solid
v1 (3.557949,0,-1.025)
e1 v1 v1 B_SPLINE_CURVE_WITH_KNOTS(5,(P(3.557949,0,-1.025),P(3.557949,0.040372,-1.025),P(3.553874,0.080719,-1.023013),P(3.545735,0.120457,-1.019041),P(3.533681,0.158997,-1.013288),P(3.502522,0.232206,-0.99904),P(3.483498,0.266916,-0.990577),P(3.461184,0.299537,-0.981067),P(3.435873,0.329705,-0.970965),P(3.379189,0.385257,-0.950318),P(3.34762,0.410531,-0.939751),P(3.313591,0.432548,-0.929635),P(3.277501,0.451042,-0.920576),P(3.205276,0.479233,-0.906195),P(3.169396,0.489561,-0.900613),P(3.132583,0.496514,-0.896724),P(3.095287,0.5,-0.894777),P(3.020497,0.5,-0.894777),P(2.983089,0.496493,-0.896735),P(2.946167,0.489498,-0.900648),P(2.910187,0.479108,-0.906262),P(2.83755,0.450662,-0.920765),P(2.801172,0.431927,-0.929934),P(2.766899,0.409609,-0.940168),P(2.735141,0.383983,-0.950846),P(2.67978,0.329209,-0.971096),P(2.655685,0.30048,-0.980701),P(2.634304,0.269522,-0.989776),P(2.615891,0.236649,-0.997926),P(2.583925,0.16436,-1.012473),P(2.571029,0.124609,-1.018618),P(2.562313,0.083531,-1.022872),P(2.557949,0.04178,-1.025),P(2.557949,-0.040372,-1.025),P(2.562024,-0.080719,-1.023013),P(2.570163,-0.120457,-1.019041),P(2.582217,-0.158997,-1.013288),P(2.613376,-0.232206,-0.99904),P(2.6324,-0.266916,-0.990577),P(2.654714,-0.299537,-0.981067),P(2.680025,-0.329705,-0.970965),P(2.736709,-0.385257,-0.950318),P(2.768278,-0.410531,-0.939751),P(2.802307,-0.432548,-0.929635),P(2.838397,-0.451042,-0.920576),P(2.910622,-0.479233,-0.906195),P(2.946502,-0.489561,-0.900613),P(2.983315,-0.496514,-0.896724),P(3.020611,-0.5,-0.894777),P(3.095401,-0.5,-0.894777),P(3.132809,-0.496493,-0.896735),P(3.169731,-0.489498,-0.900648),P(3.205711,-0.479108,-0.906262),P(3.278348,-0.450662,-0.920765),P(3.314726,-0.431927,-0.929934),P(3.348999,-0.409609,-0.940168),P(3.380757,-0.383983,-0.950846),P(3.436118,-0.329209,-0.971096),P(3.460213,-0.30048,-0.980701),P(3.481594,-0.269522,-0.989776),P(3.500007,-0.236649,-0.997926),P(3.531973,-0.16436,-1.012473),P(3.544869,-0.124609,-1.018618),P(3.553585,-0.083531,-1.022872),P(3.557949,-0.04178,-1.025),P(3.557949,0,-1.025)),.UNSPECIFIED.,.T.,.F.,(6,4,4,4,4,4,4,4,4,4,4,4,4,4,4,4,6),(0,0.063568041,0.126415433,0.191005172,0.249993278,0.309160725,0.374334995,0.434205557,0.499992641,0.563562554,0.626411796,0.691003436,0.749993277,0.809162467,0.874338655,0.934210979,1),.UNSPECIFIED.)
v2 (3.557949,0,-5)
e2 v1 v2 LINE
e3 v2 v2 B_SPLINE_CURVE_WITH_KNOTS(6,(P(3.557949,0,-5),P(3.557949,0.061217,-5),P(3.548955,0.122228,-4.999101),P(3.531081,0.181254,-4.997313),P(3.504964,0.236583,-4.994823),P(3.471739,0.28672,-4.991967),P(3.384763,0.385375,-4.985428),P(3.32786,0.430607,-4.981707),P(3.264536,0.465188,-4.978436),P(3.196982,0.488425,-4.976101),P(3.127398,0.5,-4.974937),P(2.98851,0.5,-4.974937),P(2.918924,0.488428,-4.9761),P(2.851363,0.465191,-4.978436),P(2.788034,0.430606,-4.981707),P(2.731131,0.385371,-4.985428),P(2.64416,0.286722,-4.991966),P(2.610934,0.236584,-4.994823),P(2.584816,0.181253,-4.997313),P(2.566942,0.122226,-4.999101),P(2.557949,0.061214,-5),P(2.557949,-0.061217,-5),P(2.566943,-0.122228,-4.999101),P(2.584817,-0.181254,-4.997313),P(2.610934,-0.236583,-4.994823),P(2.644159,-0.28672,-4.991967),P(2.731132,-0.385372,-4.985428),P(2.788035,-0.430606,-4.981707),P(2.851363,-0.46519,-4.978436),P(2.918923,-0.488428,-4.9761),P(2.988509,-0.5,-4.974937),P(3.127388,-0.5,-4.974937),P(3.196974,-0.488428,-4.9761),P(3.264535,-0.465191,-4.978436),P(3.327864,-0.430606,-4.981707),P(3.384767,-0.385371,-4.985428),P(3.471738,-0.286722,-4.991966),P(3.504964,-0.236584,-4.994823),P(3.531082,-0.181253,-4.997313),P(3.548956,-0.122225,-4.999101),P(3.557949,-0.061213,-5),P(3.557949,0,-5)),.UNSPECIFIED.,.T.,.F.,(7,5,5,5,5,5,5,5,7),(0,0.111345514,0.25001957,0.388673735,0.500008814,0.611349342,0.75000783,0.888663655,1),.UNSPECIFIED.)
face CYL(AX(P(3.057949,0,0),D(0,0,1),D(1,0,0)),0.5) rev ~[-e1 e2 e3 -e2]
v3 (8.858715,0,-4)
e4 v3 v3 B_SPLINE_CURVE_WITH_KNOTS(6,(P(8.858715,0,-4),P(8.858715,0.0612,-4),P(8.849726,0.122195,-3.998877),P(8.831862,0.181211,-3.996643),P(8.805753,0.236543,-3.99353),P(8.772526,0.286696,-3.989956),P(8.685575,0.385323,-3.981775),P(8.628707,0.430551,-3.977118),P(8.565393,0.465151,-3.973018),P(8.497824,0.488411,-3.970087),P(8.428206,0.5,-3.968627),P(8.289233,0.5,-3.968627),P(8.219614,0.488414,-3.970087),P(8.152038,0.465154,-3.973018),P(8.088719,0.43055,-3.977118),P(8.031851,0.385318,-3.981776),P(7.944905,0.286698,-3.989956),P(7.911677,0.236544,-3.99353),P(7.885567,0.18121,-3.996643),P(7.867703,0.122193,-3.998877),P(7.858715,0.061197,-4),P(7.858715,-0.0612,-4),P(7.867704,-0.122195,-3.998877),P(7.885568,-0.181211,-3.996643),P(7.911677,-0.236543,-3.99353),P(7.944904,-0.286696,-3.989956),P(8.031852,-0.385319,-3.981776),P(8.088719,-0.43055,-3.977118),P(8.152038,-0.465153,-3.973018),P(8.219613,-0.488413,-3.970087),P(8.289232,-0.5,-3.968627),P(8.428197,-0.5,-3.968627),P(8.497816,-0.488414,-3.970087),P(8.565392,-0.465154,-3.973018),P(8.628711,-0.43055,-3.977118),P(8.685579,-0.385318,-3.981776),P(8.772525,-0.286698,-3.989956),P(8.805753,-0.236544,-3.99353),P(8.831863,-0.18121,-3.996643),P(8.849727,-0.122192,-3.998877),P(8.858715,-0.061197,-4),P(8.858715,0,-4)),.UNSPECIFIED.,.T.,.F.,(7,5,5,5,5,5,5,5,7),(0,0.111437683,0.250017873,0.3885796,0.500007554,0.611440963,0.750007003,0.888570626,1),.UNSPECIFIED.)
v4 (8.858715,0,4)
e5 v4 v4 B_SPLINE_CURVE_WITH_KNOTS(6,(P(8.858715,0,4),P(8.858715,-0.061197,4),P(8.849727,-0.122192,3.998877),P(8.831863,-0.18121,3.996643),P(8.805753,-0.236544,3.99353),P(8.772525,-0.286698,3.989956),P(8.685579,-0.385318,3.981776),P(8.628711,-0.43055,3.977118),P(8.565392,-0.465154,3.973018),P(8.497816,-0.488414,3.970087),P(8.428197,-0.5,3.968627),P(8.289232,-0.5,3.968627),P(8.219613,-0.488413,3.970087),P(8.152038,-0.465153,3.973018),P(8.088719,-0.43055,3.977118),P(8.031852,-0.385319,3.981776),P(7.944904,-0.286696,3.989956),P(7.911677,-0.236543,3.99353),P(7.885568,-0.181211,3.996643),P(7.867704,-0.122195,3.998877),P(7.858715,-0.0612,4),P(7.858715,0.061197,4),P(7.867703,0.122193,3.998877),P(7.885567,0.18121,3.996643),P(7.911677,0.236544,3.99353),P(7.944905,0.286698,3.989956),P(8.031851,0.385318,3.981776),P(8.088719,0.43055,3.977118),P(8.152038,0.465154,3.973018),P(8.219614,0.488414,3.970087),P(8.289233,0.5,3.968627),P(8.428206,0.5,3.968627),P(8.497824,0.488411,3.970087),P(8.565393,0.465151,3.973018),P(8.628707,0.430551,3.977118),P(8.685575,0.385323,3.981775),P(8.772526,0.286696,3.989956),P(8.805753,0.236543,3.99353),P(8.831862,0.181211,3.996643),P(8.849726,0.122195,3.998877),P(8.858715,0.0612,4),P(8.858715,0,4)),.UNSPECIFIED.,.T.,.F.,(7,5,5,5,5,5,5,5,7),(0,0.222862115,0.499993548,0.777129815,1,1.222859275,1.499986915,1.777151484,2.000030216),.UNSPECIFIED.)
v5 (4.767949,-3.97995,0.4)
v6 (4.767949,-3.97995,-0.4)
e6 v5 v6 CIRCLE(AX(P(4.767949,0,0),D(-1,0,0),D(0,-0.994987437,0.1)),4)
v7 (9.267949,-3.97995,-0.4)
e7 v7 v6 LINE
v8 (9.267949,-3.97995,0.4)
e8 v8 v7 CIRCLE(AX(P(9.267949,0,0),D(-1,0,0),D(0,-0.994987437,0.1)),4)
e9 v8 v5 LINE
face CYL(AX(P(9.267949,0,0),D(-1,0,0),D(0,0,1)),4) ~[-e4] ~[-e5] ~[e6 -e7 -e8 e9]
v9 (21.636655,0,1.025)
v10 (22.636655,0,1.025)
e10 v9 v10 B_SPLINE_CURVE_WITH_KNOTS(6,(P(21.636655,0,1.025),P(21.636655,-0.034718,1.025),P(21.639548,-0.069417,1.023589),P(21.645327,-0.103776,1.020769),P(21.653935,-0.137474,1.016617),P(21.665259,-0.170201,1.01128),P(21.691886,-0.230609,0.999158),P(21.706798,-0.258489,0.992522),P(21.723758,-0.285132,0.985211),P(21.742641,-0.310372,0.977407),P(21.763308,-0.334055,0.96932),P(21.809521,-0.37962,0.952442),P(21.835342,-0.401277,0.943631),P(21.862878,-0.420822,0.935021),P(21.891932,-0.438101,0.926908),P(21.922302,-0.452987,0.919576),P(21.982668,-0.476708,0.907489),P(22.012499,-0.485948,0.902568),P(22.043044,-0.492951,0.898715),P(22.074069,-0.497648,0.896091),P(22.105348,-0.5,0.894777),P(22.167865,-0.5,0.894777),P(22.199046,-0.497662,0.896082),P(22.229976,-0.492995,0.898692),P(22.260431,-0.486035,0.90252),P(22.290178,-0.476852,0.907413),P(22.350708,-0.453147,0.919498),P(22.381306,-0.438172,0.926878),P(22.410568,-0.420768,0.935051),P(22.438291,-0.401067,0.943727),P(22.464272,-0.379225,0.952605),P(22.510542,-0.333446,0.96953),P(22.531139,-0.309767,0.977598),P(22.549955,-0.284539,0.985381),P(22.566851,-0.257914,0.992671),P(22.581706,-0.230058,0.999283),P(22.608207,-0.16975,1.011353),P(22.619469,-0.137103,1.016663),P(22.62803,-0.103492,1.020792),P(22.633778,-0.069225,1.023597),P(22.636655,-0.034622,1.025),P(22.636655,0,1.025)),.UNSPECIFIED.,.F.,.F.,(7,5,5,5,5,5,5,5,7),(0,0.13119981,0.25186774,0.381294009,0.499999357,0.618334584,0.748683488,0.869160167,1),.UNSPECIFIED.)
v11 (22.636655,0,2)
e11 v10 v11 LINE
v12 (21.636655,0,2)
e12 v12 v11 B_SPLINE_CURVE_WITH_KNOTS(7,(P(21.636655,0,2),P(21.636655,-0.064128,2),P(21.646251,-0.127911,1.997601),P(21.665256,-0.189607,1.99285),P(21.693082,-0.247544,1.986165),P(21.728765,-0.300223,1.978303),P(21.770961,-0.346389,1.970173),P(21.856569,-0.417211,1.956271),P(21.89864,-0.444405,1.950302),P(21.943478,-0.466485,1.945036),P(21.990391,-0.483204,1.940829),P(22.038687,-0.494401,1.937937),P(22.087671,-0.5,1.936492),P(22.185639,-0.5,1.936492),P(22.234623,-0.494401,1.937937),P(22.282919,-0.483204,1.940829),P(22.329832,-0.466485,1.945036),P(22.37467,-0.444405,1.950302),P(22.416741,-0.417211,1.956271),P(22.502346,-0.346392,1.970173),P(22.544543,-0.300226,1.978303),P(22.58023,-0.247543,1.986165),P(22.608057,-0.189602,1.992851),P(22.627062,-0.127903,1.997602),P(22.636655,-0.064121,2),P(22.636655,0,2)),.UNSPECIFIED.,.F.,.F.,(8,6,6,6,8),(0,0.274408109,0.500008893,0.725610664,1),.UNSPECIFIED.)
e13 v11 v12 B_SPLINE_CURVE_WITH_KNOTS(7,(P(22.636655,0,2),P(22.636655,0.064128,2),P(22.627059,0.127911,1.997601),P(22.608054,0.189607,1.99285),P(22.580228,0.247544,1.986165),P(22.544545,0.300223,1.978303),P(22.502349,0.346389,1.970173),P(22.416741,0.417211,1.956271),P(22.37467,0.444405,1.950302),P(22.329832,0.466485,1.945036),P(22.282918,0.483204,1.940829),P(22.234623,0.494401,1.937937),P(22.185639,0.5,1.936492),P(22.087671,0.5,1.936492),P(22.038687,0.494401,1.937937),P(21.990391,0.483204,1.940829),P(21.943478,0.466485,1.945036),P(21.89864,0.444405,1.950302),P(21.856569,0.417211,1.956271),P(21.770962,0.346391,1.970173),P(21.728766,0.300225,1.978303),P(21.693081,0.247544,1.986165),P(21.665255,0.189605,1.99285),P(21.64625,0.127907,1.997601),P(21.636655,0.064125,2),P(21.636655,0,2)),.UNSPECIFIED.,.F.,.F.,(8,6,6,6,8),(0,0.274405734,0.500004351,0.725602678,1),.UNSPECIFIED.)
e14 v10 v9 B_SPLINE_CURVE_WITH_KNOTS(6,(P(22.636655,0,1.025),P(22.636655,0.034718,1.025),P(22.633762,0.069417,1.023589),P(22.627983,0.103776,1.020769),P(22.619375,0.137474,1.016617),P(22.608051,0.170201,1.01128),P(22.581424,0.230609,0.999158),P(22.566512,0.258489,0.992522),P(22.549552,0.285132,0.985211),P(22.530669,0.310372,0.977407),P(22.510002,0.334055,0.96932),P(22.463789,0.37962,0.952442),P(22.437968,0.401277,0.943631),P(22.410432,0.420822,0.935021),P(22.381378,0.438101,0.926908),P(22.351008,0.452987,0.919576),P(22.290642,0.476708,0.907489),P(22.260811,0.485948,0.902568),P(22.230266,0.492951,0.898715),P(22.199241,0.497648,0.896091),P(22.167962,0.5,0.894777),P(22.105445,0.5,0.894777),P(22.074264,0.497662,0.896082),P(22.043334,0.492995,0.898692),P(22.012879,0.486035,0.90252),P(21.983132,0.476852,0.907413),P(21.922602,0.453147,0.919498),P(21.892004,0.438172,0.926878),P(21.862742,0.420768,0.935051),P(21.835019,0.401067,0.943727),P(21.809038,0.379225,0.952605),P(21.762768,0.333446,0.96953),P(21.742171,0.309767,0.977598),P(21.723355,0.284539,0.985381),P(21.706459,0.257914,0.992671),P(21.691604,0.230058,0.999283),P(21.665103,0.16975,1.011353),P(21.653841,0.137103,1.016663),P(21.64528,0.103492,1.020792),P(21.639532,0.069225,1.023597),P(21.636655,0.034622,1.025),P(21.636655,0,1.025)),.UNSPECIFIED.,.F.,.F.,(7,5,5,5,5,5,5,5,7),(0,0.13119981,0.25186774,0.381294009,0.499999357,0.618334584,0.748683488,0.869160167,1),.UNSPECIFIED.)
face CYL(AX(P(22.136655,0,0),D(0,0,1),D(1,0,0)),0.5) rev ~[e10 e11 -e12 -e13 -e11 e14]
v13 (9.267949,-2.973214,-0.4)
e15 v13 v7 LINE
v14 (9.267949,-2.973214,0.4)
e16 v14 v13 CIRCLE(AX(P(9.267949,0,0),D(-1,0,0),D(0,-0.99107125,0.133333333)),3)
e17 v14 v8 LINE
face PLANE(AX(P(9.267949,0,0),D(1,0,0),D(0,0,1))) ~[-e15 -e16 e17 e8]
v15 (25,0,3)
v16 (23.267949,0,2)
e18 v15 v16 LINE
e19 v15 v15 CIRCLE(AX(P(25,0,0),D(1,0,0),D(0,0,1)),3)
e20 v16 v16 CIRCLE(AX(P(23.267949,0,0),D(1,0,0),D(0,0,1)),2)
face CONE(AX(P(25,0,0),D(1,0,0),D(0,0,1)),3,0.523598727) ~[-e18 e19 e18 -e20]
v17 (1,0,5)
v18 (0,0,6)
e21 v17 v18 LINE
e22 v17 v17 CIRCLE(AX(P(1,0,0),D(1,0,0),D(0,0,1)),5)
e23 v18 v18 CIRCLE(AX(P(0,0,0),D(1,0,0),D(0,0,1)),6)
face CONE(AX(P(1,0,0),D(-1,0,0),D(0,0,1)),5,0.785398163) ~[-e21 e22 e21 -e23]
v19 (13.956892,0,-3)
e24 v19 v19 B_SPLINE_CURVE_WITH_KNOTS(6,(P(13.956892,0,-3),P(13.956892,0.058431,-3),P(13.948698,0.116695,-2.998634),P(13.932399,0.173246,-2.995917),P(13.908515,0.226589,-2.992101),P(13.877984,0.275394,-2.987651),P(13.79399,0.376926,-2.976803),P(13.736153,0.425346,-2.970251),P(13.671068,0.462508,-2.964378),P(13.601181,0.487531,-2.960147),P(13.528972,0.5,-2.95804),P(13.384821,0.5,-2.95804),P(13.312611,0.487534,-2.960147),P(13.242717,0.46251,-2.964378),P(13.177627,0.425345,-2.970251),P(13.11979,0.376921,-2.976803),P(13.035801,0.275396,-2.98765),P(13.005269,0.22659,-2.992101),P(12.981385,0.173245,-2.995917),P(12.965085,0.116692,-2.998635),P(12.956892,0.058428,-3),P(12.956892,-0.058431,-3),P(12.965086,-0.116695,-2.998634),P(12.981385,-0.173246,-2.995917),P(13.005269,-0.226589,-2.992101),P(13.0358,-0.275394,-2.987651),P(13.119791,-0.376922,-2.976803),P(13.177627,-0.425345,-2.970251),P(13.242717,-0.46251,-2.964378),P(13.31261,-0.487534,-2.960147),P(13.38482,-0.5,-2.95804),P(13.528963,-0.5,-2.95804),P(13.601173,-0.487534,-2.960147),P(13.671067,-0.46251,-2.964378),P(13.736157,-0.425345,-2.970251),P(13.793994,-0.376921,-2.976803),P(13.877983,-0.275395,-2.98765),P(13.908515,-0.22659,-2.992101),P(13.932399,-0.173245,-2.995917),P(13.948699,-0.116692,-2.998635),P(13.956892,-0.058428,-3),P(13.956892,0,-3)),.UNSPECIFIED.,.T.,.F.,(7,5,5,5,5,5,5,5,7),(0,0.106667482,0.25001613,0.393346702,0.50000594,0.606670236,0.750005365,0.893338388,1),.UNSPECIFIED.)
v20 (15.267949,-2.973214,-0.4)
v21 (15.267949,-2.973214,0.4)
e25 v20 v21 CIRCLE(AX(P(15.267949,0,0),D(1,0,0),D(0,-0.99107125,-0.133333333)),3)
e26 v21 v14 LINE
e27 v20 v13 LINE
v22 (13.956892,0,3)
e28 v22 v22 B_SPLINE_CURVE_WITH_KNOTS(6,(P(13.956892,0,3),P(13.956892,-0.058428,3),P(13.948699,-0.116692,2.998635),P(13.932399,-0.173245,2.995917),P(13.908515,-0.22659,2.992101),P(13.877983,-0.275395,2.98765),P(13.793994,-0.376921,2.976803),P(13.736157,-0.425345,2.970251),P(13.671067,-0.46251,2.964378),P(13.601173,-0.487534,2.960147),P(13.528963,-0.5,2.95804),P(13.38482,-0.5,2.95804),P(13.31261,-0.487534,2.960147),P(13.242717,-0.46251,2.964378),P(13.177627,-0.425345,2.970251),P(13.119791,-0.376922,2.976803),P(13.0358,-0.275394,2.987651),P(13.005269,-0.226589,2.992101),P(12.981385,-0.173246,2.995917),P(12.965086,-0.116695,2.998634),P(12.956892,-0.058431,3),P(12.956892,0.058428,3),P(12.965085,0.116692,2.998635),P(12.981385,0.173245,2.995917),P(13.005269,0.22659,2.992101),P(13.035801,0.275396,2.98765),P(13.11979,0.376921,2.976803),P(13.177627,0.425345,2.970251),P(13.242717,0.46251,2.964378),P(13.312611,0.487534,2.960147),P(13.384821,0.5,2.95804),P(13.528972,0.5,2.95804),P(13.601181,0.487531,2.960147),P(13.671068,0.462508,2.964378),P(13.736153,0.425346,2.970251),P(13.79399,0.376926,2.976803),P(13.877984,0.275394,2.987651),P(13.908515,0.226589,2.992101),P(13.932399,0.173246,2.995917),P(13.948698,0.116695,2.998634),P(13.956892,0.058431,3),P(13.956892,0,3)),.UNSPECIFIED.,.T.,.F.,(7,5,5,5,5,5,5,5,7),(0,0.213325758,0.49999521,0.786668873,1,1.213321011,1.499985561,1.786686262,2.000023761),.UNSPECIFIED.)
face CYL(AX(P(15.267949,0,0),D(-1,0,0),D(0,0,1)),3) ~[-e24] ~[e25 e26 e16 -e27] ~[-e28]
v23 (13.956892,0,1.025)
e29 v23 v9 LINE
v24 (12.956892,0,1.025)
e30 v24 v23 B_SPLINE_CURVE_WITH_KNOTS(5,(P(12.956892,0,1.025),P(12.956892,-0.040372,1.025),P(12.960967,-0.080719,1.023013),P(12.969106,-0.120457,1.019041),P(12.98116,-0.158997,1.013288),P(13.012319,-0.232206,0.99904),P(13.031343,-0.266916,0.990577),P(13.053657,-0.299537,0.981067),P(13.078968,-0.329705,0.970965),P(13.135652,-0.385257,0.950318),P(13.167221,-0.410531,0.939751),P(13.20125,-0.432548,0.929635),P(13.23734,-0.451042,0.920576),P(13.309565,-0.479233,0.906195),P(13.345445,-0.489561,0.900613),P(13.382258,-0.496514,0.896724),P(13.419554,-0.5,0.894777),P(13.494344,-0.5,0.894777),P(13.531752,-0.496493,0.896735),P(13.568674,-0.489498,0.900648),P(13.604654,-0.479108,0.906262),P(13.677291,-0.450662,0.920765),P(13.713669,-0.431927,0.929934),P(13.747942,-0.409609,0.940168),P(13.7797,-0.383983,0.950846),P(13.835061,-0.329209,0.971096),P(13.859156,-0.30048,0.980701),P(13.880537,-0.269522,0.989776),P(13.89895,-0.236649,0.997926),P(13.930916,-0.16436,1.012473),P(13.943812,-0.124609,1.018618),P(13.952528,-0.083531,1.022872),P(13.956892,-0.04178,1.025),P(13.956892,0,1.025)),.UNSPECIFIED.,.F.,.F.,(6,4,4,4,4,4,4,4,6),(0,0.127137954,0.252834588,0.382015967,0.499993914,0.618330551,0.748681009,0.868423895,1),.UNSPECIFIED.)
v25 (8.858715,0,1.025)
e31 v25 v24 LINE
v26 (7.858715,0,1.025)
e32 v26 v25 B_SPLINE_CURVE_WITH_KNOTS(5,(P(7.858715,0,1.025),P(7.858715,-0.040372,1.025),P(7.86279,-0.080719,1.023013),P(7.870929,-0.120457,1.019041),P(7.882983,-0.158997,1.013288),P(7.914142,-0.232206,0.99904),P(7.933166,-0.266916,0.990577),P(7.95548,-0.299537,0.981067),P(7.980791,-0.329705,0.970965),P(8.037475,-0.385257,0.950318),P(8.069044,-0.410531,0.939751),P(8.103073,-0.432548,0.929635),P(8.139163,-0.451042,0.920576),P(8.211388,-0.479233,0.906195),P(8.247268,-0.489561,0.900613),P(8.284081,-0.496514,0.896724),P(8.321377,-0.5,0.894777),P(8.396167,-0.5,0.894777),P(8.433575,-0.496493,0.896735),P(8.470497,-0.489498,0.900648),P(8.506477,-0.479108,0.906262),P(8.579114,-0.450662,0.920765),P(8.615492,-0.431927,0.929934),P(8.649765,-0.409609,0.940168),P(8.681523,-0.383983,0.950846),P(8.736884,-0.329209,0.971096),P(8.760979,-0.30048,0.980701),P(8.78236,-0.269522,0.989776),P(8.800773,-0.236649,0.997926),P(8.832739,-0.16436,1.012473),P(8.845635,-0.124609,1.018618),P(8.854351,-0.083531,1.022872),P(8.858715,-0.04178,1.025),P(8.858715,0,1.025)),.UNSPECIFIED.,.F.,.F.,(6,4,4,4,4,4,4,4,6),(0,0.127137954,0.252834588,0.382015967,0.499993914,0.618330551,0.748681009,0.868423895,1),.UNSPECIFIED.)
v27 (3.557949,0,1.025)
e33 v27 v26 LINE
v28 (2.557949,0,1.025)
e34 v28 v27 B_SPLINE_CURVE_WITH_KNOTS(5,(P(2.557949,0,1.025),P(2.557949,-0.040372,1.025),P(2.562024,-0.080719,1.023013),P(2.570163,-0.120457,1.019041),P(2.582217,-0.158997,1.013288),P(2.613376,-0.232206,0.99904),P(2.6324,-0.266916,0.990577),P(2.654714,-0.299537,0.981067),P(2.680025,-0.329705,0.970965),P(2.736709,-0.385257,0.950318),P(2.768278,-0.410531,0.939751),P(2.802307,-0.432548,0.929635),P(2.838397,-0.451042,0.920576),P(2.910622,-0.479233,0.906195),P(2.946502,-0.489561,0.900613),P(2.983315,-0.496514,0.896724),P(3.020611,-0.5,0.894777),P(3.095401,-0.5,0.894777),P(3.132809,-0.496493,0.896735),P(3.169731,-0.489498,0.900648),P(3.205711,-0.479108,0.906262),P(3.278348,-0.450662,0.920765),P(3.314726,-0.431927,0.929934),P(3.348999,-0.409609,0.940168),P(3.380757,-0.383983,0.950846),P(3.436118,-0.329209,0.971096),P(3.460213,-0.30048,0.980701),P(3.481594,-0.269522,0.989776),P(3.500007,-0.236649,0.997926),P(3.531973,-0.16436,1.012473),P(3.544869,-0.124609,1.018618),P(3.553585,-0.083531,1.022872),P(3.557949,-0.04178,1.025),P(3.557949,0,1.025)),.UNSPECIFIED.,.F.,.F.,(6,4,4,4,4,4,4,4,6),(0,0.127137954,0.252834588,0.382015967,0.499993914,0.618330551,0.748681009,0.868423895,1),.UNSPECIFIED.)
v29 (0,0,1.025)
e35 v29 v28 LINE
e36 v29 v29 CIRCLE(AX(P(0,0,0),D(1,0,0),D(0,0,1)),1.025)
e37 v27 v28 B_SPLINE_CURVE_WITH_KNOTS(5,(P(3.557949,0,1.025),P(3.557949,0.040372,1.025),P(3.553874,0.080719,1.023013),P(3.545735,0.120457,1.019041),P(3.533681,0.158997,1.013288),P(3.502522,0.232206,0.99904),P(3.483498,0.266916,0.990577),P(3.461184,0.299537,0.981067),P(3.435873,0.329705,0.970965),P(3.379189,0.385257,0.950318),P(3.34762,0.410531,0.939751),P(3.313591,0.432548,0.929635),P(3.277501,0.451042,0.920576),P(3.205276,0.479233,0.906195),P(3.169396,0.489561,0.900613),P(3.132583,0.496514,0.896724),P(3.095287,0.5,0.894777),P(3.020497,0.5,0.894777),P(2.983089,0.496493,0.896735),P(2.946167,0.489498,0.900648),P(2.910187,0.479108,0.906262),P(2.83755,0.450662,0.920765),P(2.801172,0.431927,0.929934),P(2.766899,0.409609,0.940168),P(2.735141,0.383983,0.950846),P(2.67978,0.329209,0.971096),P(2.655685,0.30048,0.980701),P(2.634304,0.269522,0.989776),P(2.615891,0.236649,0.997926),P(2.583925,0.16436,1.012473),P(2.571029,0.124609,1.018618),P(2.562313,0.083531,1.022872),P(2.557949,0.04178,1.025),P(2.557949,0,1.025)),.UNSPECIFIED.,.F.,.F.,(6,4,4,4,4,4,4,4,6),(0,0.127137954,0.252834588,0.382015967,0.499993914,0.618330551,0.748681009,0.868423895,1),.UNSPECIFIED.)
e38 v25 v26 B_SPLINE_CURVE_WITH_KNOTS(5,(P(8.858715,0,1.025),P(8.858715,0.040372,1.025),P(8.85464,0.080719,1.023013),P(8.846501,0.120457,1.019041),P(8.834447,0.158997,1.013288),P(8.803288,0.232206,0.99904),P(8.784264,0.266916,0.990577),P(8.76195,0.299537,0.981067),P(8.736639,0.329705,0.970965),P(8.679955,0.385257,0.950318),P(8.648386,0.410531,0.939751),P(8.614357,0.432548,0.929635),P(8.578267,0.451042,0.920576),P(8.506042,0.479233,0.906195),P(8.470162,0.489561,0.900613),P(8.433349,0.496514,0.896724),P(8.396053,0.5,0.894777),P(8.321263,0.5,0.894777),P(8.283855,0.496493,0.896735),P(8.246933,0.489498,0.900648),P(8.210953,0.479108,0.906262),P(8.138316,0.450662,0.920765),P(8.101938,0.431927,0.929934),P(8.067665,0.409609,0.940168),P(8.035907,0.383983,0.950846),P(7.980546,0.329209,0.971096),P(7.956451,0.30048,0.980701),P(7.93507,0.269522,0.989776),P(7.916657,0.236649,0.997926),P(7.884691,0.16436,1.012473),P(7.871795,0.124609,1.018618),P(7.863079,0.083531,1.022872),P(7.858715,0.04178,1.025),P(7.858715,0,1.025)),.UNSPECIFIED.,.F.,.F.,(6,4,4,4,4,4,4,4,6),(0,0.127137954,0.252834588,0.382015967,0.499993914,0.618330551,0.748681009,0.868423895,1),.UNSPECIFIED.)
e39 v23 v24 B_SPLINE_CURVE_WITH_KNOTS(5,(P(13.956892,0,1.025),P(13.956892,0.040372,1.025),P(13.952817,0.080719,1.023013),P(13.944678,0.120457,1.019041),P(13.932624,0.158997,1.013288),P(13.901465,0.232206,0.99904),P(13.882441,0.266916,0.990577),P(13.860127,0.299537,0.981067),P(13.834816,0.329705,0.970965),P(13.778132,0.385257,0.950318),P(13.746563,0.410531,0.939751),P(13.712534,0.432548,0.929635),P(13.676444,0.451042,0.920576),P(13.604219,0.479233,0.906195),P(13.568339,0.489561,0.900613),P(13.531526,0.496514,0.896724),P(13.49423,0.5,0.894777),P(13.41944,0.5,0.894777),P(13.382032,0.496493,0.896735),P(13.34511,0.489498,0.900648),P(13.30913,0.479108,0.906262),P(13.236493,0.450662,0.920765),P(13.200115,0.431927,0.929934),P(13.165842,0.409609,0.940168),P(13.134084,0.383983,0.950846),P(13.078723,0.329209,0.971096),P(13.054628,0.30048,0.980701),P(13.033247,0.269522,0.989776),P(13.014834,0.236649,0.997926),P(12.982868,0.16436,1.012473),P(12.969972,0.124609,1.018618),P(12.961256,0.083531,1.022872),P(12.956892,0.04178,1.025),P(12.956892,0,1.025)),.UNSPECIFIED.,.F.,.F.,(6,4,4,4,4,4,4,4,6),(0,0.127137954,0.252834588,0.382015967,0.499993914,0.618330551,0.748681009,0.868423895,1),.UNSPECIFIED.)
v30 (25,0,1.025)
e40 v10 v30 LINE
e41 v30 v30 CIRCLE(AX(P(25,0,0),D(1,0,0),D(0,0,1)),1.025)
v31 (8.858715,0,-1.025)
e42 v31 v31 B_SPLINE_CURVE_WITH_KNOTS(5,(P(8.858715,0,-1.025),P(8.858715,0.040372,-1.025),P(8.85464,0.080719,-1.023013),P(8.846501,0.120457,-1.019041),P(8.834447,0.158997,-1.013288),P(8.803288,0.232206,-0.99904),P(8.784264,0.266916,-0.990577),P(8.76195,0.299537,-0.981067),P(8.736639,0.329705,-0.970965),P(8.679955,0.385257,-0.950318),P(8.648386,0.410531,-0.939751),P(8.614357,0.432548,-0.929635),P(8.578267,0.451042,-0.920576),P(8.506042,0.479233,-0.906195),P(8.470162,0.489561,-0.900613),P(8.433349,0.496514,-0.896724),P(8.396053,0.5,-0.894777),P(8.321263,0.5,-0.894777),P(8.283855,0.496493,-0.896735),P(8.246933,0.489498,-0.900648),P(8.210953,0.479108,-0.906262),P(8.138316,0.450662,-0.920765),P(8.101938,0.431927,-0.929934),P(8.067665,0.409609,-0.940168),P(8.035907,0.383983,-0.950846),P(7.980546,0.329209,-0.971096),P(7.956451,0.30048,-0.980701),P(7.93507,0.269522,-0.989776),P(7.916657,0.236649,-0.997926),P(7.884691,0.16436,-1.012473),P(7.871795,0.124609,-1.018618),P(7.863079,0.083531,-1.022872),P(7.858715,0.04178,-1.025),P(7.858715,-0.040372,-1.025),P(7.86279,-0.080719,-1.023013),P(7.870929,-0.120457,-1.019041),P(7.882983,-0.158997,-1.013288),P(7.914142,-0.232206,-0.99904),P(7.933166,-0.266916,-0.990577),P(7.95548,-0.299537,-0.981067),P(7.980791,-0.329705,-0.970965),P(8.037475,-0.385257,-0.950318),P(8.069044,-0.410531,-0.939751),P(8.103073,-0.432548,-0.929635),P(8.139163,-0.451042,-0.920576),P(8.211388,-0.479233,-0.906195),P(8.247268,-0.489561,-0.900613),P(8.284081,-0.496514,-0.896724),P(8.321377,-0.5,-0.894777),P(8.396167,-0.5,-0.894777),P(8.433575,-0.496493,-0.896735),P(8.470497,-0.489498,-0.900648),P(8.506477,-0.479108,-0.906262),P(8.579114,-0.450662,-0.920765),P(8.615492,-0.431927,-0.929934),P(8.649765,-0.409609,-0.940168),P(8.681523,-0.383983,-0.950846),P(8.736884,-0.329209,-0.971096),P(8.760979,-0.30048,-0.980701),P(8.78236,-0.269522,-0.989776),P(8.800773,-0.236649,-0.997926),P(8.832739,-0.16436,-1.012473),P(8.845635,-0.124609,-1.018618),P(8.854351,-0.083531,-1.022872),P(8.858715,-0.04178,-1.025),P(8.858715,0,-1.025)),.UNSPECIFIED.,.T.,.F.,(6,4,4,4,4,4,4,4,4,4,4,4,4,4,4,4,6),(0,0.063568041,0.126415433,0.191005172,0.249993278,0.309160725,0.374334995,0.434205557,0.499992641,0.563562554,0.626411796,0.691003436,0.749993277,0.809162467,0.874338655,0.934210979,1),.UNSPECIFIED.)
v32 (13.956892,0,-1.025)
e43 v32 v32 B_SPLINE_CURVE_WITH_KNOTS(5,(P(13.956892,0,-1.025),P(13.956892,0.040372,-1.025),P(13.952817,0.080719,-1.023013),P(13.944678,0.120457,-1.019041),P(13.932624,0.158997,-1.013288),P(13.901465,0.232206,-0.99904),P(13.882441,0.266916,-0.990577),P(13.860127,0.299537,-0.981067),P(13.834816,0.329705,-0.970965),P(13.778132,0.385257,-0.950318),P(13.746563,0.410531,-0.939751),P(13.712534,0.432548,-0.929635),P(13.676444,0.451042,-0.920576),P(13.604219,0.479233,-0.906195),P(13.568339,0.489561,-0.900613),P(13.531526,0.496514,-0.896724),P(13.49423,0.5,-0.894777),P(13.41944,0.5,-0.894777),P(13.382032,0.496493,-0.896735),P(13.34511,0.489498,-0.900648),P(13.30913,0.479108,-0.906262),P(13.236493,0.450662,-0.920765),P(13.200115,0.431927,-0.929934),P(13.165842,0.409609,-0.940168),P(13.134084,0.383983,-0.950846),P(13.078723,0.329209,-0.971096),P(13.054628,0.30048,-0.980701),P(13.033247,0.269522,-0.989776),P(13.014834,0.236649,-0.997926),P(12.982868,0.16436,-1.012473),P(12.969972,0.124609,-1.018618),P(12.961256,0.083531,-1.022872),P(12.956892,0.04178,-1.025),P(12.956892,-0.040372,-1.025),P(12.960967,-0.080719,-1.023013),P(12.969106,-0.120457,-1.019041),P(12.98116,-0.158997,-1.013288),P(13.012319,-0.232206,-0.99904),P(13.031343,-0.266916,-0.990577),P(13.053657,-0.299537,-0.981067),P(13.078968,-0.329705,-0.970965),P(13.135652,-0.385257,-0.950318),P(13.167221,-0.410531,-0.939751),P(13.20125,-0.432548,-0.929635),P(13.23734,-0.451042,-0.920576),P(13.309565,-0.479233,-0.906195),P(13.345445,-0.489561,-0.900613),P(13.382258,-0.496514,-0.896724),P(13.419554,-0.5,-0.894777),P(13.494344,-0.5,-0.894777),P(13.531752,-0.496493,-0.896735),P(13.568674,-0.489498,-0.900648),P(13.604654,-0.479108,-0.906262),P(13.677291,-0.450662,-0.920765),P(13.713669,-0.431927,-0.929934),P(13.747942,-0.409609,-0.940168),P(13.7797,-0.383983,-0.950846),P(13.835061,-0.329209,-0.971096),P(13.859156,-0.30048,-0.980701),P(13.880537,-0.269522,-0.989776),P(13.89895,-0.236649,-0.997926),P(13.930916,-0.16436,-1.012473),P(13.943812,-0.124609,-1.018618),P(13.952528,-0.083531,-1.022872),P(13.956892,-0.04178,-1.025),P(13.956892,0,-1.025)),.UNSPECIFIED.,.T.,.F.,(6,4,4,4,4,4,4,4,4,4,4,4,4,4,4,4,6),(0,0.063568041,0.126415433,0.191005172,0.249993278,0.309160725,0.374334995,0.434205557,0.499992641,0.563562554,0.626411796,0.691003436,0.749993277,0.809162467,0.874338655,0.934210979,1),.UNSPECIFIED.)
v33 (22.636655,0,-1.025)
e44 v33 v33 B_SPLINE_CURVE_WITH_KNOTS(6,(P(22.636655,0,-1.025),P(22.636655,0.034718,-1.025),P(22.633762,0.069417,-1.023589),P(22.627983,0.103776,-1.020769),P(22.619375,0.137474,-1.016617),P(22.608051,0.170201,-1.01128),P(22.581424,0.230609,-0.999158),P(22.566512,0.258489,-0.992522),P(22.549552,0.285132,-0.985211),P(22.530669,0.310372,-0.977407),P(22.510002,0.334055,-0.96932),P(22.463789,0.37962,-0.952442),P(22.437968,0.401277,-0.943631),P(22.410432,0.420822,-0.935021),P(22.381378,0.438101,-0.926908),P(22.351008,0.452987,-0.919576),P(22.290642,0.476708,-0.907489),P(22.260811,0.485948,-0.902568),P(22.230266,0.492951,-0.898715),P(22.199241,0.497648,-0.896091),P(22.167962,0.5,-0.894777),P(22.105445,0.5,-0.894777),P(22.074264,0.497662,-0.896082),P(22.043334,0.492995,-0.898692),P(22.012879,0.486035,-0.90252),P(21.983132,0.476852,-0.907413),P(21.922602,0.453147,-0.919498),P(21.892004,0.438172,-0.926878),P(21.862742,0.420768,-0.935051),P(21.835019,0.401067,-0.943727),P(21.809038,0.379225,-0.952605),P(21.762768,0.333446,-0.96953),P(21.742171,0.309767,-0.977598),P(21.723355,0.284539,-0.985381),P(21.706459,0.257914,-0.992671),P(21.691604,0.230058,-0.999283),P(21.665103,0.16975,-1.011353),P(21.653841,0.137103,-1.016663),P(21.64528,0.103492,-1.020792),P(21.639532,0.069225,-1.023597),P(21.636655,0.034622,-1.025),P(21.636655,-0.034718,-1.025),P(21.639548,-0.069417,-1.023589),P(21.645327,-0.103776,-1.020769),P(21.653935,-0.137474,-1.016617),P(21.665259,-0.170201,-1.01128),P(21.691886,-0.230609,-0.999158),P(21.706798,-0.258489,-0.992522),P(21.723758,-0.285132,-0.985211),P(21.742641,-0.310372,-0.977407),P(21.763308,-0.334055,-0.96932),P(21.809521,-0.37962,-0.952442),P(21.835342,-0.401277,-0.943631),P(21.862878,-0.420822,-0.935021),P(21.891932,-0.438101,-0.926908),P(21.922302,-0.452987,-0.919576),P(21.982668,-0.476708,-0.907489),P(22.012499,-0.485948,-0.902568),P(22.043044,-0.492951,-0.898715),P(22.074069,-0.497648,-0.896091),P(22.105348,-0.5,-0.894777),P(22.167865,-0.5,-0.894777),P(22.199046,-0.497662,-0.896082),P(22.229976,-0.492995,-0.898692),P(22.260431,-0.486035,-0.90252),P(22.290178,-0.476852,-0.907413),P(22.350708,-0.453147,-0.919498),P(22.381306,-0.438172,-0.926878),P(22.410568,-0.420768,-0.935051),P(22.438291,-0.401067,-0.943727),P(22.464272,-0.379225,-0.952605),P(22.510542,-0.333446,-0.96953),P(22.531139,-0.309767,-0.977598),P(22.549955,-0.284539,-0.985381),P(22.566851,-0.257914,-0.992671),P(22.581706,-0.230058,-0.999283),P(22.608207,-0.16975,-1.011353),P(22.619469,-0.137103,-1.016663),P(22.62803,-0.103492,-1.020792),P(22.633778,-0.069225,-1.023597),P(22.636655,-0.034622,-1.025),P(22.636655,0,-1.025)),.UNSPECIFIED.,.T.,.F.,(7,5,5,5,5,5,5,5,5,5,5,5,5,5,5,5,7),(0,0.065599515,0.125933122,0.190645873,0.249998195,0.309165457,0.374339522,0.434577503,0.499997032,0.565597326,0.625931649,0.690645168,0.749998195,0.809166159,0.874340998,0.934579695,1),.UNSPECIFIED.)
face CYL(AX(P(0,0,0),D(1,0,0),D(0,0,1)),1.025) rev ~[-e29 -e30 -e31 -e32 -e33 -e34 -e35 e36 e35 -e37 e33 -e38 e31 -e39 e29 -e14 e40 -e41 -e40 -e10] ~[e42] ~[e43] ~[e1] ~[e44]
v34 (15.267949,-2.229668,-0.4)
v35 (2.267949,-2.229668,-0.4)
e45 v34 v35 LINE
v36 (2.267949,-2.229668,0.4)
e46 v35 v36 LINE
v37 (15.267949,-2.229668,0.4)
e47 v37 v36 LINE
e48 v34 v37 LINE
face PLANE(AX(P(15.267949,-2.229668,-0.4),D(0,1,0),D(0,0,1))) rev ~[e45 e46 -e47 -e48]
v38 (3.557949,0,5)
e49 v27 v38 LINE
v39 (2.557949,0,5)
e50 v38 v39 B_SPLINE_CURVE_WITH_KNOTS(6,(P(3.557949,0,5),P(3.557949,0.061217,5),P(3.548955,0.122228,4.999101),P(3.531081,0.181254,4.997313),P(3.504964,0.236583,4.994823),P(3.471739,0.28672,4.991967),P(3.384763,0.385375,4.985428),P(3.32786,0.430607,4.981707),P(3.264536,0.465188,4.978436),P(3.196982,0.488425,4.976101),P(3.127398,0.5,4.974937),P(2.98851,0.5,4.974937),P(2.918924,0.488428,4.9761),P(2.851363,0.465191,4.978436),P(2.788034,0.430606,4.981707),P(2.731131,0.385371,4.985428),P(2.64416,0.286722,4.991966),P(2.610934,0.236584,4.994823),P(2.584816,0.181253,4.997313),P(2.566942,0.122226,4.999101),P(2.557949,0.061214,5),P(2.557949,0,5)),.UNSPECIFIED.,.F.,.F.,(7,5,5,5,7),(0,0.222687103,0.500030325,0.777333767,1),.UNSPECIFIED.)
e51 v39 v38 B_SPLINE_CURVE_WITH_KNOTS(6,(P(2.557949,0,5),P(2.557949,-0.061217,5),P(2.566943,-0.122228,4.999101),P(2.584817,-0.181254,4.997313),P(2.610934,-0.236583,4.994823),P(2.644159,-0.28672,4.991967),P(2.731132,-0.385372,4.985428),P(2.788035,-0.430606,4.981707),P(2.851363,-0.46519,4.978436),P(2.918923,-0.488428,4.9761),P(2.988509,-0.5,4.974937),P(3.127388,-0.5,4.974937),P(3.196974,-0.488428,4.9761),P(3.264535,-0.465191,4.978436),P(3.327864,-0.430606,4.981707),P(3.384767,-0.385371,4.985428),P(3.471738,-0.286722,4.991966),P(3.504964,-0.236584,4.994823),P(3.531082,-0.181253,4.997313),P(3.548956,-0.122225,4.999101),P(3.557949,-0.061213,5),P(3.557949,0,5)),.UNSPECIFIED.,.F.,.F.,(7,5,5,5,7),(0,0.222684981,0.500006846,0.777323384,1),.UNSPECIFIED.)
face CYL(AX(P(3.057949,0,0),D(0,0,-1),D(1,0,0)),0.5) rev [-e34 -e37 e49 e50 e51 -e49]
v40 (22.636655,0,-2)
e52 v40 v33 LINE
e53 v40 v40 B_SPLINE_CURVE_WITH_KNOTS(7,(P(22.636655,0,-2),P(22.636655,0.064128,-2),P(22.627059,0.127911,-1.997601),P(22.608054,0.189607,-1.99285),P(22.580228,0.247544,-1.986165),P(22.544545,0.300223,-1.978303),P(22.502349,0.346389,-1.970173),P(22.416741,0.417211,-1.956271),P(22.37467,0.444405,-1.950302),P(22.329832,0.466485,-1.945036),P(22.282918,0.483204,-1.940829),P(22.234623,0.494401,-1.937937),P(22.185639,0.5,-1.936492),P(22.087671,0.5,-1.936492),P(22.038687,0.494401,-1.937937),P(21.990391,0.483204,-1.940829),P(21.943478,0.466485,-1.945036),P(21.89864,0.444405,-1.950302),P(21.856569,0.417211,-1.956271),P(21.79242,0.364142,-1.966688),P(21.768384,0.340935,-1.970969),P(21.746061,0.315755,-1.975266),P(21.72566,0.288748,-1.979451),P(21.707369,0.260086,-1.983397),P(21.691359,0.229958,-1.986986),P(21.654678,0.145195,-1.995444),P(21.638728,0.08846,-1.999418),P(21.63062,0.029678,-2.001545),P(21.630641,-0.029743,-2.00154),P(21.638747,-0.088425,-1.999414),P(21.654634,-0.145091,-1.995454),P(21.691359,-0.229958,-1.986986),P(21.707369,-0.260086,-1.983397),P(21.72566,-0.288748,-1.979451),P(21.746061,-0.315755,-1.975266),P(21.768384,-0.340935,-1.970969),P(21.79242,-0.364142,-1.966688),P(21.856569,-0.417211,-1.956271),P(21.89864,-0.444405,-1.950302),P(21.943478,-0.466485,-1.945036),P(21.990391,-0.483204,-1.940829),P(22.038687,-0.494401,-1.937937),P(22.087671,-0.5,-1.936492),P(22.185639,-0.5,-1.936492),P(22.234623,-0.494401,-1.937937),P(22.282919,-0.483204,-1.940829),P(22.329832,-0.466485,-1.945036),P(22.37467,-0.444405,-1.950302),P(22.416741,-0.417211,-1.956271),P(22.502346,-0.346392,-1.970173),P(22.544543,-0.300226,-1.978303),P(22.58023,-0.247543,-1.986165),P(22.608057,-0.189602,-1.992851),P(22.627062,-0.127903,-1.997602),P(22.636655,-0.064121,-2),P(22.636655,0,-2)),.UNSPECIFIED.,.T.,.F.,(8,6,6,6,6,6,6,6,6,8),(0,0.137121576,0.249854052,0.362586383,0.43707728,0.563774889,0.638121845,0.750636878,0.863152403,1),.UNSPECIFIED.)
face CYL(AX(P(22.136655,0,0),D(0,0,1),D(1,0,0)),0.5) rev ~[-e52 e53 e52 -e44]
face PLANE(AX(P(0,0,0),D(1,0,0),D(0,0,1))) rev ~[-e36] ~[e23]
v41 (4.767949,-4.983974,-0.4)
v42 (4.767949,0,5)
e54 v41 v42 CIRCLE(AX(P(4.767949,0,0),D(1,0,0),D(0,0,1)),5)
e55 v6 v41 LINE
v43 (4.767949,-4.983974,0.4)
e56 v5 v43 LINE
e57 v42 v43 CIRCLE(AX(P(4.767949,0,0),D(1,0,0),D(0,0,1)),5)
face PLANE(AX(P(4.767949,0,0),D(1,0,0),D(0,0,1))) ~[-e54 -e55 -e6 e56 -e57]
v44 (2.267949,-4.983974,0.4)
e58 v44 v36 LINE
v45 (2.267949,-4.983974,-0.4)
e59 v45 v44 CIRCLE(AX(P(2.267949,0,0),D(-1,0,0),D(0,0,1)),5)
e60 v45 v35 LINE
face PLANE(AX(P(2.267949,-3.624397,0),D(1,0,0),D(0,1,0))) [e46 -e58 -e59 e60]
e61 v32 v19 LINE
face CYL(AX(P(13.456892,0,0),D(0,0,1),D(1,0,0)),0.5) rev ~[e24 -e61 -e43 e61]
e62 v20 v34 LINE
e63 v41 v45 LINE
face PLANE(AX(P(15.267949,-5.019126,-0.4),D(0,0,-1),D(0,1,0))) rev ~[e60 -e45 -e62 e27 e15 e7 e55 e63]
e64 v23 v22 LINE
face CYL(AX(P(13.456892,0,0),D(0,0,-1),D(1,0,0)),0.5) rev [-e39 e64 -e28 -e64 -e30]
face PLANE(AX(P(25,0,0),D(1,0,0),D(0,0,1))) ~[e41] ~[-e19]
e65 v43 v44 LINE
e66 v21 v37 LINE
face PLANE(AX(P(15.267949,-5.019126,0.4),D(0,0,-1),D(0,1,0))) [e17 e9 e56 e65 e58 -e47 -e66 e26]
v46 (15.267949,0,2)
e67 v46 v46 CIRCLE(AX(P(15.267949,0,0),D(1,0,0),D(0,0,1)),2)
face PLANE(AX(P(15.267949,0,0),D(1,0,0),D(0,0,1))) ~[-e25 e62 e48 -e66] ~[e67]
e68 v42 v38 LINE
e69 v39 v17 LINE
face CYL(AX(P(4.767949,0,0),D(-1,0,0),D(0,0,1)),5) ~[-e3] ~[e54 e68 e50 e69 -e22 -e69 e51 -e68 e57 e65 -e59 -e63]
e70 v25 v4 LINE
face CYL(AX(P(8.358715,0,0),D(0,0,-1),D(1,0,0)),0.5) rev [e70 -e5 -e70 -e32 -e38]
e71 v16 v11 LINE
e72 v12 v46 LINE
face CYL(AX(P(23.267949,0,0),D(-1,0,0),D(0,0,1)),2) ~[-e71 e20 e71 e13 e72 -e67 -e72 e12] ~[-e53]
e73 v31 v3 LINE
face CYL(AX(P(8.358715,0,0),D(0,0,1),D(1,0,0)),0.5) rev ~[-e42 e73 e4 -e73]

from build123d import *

# Parameters (mm, degrees)
F2_R     = 0.5
F3_DEPTH = 12.5
F4_W     = 2.789457
F4_H     = 0.8
F5_DEPTH = 13


with BuildPart() as f1:
    # F0 (on Front) → F1 (revolve)
    with BuildSketch(Plane.XZ):
        Polygon((1, 5), (0, 6), (0, 1.025), (25, 1.025), (25, 3), (23.267949, 2), (15.267949, 2), (15.267949, 3), (9.267949, 3), (9.267949, 4), (4.767949, 4), (4.767949, 5), align=None)
    revolve(axis=Axis((6.044726, 0, 0), (1, 0, 0)))

    # F2 (on Top) → F3 (cut, symmetric)
    with BuildSketch(Plane.XY):
        with Locations((3.057949, 0)):
            Circle(F2_R)
        with Locations((8.358715, 0)):
            Circle(F2_R)
        with Locations((13.456892, 0)):
            Circle(F2_R)
        with Locations((22.136655, 0)):
            Circle(F2_R)
    extrude(amount=F3_DEPTH, both=True, mode=Mode.SUBTRACT)

    # F4 (on face) → F5 (cut)
    with BuildSketch(Plane.YZ.offset(15.267949)):
        with Locations((-3.624397, 0)):
            Rectangle(F4_W, F4_H)
    extrude(amount=-F5_DEPTH, mode=Mode.SUBTRACT)


solid = f1.part
